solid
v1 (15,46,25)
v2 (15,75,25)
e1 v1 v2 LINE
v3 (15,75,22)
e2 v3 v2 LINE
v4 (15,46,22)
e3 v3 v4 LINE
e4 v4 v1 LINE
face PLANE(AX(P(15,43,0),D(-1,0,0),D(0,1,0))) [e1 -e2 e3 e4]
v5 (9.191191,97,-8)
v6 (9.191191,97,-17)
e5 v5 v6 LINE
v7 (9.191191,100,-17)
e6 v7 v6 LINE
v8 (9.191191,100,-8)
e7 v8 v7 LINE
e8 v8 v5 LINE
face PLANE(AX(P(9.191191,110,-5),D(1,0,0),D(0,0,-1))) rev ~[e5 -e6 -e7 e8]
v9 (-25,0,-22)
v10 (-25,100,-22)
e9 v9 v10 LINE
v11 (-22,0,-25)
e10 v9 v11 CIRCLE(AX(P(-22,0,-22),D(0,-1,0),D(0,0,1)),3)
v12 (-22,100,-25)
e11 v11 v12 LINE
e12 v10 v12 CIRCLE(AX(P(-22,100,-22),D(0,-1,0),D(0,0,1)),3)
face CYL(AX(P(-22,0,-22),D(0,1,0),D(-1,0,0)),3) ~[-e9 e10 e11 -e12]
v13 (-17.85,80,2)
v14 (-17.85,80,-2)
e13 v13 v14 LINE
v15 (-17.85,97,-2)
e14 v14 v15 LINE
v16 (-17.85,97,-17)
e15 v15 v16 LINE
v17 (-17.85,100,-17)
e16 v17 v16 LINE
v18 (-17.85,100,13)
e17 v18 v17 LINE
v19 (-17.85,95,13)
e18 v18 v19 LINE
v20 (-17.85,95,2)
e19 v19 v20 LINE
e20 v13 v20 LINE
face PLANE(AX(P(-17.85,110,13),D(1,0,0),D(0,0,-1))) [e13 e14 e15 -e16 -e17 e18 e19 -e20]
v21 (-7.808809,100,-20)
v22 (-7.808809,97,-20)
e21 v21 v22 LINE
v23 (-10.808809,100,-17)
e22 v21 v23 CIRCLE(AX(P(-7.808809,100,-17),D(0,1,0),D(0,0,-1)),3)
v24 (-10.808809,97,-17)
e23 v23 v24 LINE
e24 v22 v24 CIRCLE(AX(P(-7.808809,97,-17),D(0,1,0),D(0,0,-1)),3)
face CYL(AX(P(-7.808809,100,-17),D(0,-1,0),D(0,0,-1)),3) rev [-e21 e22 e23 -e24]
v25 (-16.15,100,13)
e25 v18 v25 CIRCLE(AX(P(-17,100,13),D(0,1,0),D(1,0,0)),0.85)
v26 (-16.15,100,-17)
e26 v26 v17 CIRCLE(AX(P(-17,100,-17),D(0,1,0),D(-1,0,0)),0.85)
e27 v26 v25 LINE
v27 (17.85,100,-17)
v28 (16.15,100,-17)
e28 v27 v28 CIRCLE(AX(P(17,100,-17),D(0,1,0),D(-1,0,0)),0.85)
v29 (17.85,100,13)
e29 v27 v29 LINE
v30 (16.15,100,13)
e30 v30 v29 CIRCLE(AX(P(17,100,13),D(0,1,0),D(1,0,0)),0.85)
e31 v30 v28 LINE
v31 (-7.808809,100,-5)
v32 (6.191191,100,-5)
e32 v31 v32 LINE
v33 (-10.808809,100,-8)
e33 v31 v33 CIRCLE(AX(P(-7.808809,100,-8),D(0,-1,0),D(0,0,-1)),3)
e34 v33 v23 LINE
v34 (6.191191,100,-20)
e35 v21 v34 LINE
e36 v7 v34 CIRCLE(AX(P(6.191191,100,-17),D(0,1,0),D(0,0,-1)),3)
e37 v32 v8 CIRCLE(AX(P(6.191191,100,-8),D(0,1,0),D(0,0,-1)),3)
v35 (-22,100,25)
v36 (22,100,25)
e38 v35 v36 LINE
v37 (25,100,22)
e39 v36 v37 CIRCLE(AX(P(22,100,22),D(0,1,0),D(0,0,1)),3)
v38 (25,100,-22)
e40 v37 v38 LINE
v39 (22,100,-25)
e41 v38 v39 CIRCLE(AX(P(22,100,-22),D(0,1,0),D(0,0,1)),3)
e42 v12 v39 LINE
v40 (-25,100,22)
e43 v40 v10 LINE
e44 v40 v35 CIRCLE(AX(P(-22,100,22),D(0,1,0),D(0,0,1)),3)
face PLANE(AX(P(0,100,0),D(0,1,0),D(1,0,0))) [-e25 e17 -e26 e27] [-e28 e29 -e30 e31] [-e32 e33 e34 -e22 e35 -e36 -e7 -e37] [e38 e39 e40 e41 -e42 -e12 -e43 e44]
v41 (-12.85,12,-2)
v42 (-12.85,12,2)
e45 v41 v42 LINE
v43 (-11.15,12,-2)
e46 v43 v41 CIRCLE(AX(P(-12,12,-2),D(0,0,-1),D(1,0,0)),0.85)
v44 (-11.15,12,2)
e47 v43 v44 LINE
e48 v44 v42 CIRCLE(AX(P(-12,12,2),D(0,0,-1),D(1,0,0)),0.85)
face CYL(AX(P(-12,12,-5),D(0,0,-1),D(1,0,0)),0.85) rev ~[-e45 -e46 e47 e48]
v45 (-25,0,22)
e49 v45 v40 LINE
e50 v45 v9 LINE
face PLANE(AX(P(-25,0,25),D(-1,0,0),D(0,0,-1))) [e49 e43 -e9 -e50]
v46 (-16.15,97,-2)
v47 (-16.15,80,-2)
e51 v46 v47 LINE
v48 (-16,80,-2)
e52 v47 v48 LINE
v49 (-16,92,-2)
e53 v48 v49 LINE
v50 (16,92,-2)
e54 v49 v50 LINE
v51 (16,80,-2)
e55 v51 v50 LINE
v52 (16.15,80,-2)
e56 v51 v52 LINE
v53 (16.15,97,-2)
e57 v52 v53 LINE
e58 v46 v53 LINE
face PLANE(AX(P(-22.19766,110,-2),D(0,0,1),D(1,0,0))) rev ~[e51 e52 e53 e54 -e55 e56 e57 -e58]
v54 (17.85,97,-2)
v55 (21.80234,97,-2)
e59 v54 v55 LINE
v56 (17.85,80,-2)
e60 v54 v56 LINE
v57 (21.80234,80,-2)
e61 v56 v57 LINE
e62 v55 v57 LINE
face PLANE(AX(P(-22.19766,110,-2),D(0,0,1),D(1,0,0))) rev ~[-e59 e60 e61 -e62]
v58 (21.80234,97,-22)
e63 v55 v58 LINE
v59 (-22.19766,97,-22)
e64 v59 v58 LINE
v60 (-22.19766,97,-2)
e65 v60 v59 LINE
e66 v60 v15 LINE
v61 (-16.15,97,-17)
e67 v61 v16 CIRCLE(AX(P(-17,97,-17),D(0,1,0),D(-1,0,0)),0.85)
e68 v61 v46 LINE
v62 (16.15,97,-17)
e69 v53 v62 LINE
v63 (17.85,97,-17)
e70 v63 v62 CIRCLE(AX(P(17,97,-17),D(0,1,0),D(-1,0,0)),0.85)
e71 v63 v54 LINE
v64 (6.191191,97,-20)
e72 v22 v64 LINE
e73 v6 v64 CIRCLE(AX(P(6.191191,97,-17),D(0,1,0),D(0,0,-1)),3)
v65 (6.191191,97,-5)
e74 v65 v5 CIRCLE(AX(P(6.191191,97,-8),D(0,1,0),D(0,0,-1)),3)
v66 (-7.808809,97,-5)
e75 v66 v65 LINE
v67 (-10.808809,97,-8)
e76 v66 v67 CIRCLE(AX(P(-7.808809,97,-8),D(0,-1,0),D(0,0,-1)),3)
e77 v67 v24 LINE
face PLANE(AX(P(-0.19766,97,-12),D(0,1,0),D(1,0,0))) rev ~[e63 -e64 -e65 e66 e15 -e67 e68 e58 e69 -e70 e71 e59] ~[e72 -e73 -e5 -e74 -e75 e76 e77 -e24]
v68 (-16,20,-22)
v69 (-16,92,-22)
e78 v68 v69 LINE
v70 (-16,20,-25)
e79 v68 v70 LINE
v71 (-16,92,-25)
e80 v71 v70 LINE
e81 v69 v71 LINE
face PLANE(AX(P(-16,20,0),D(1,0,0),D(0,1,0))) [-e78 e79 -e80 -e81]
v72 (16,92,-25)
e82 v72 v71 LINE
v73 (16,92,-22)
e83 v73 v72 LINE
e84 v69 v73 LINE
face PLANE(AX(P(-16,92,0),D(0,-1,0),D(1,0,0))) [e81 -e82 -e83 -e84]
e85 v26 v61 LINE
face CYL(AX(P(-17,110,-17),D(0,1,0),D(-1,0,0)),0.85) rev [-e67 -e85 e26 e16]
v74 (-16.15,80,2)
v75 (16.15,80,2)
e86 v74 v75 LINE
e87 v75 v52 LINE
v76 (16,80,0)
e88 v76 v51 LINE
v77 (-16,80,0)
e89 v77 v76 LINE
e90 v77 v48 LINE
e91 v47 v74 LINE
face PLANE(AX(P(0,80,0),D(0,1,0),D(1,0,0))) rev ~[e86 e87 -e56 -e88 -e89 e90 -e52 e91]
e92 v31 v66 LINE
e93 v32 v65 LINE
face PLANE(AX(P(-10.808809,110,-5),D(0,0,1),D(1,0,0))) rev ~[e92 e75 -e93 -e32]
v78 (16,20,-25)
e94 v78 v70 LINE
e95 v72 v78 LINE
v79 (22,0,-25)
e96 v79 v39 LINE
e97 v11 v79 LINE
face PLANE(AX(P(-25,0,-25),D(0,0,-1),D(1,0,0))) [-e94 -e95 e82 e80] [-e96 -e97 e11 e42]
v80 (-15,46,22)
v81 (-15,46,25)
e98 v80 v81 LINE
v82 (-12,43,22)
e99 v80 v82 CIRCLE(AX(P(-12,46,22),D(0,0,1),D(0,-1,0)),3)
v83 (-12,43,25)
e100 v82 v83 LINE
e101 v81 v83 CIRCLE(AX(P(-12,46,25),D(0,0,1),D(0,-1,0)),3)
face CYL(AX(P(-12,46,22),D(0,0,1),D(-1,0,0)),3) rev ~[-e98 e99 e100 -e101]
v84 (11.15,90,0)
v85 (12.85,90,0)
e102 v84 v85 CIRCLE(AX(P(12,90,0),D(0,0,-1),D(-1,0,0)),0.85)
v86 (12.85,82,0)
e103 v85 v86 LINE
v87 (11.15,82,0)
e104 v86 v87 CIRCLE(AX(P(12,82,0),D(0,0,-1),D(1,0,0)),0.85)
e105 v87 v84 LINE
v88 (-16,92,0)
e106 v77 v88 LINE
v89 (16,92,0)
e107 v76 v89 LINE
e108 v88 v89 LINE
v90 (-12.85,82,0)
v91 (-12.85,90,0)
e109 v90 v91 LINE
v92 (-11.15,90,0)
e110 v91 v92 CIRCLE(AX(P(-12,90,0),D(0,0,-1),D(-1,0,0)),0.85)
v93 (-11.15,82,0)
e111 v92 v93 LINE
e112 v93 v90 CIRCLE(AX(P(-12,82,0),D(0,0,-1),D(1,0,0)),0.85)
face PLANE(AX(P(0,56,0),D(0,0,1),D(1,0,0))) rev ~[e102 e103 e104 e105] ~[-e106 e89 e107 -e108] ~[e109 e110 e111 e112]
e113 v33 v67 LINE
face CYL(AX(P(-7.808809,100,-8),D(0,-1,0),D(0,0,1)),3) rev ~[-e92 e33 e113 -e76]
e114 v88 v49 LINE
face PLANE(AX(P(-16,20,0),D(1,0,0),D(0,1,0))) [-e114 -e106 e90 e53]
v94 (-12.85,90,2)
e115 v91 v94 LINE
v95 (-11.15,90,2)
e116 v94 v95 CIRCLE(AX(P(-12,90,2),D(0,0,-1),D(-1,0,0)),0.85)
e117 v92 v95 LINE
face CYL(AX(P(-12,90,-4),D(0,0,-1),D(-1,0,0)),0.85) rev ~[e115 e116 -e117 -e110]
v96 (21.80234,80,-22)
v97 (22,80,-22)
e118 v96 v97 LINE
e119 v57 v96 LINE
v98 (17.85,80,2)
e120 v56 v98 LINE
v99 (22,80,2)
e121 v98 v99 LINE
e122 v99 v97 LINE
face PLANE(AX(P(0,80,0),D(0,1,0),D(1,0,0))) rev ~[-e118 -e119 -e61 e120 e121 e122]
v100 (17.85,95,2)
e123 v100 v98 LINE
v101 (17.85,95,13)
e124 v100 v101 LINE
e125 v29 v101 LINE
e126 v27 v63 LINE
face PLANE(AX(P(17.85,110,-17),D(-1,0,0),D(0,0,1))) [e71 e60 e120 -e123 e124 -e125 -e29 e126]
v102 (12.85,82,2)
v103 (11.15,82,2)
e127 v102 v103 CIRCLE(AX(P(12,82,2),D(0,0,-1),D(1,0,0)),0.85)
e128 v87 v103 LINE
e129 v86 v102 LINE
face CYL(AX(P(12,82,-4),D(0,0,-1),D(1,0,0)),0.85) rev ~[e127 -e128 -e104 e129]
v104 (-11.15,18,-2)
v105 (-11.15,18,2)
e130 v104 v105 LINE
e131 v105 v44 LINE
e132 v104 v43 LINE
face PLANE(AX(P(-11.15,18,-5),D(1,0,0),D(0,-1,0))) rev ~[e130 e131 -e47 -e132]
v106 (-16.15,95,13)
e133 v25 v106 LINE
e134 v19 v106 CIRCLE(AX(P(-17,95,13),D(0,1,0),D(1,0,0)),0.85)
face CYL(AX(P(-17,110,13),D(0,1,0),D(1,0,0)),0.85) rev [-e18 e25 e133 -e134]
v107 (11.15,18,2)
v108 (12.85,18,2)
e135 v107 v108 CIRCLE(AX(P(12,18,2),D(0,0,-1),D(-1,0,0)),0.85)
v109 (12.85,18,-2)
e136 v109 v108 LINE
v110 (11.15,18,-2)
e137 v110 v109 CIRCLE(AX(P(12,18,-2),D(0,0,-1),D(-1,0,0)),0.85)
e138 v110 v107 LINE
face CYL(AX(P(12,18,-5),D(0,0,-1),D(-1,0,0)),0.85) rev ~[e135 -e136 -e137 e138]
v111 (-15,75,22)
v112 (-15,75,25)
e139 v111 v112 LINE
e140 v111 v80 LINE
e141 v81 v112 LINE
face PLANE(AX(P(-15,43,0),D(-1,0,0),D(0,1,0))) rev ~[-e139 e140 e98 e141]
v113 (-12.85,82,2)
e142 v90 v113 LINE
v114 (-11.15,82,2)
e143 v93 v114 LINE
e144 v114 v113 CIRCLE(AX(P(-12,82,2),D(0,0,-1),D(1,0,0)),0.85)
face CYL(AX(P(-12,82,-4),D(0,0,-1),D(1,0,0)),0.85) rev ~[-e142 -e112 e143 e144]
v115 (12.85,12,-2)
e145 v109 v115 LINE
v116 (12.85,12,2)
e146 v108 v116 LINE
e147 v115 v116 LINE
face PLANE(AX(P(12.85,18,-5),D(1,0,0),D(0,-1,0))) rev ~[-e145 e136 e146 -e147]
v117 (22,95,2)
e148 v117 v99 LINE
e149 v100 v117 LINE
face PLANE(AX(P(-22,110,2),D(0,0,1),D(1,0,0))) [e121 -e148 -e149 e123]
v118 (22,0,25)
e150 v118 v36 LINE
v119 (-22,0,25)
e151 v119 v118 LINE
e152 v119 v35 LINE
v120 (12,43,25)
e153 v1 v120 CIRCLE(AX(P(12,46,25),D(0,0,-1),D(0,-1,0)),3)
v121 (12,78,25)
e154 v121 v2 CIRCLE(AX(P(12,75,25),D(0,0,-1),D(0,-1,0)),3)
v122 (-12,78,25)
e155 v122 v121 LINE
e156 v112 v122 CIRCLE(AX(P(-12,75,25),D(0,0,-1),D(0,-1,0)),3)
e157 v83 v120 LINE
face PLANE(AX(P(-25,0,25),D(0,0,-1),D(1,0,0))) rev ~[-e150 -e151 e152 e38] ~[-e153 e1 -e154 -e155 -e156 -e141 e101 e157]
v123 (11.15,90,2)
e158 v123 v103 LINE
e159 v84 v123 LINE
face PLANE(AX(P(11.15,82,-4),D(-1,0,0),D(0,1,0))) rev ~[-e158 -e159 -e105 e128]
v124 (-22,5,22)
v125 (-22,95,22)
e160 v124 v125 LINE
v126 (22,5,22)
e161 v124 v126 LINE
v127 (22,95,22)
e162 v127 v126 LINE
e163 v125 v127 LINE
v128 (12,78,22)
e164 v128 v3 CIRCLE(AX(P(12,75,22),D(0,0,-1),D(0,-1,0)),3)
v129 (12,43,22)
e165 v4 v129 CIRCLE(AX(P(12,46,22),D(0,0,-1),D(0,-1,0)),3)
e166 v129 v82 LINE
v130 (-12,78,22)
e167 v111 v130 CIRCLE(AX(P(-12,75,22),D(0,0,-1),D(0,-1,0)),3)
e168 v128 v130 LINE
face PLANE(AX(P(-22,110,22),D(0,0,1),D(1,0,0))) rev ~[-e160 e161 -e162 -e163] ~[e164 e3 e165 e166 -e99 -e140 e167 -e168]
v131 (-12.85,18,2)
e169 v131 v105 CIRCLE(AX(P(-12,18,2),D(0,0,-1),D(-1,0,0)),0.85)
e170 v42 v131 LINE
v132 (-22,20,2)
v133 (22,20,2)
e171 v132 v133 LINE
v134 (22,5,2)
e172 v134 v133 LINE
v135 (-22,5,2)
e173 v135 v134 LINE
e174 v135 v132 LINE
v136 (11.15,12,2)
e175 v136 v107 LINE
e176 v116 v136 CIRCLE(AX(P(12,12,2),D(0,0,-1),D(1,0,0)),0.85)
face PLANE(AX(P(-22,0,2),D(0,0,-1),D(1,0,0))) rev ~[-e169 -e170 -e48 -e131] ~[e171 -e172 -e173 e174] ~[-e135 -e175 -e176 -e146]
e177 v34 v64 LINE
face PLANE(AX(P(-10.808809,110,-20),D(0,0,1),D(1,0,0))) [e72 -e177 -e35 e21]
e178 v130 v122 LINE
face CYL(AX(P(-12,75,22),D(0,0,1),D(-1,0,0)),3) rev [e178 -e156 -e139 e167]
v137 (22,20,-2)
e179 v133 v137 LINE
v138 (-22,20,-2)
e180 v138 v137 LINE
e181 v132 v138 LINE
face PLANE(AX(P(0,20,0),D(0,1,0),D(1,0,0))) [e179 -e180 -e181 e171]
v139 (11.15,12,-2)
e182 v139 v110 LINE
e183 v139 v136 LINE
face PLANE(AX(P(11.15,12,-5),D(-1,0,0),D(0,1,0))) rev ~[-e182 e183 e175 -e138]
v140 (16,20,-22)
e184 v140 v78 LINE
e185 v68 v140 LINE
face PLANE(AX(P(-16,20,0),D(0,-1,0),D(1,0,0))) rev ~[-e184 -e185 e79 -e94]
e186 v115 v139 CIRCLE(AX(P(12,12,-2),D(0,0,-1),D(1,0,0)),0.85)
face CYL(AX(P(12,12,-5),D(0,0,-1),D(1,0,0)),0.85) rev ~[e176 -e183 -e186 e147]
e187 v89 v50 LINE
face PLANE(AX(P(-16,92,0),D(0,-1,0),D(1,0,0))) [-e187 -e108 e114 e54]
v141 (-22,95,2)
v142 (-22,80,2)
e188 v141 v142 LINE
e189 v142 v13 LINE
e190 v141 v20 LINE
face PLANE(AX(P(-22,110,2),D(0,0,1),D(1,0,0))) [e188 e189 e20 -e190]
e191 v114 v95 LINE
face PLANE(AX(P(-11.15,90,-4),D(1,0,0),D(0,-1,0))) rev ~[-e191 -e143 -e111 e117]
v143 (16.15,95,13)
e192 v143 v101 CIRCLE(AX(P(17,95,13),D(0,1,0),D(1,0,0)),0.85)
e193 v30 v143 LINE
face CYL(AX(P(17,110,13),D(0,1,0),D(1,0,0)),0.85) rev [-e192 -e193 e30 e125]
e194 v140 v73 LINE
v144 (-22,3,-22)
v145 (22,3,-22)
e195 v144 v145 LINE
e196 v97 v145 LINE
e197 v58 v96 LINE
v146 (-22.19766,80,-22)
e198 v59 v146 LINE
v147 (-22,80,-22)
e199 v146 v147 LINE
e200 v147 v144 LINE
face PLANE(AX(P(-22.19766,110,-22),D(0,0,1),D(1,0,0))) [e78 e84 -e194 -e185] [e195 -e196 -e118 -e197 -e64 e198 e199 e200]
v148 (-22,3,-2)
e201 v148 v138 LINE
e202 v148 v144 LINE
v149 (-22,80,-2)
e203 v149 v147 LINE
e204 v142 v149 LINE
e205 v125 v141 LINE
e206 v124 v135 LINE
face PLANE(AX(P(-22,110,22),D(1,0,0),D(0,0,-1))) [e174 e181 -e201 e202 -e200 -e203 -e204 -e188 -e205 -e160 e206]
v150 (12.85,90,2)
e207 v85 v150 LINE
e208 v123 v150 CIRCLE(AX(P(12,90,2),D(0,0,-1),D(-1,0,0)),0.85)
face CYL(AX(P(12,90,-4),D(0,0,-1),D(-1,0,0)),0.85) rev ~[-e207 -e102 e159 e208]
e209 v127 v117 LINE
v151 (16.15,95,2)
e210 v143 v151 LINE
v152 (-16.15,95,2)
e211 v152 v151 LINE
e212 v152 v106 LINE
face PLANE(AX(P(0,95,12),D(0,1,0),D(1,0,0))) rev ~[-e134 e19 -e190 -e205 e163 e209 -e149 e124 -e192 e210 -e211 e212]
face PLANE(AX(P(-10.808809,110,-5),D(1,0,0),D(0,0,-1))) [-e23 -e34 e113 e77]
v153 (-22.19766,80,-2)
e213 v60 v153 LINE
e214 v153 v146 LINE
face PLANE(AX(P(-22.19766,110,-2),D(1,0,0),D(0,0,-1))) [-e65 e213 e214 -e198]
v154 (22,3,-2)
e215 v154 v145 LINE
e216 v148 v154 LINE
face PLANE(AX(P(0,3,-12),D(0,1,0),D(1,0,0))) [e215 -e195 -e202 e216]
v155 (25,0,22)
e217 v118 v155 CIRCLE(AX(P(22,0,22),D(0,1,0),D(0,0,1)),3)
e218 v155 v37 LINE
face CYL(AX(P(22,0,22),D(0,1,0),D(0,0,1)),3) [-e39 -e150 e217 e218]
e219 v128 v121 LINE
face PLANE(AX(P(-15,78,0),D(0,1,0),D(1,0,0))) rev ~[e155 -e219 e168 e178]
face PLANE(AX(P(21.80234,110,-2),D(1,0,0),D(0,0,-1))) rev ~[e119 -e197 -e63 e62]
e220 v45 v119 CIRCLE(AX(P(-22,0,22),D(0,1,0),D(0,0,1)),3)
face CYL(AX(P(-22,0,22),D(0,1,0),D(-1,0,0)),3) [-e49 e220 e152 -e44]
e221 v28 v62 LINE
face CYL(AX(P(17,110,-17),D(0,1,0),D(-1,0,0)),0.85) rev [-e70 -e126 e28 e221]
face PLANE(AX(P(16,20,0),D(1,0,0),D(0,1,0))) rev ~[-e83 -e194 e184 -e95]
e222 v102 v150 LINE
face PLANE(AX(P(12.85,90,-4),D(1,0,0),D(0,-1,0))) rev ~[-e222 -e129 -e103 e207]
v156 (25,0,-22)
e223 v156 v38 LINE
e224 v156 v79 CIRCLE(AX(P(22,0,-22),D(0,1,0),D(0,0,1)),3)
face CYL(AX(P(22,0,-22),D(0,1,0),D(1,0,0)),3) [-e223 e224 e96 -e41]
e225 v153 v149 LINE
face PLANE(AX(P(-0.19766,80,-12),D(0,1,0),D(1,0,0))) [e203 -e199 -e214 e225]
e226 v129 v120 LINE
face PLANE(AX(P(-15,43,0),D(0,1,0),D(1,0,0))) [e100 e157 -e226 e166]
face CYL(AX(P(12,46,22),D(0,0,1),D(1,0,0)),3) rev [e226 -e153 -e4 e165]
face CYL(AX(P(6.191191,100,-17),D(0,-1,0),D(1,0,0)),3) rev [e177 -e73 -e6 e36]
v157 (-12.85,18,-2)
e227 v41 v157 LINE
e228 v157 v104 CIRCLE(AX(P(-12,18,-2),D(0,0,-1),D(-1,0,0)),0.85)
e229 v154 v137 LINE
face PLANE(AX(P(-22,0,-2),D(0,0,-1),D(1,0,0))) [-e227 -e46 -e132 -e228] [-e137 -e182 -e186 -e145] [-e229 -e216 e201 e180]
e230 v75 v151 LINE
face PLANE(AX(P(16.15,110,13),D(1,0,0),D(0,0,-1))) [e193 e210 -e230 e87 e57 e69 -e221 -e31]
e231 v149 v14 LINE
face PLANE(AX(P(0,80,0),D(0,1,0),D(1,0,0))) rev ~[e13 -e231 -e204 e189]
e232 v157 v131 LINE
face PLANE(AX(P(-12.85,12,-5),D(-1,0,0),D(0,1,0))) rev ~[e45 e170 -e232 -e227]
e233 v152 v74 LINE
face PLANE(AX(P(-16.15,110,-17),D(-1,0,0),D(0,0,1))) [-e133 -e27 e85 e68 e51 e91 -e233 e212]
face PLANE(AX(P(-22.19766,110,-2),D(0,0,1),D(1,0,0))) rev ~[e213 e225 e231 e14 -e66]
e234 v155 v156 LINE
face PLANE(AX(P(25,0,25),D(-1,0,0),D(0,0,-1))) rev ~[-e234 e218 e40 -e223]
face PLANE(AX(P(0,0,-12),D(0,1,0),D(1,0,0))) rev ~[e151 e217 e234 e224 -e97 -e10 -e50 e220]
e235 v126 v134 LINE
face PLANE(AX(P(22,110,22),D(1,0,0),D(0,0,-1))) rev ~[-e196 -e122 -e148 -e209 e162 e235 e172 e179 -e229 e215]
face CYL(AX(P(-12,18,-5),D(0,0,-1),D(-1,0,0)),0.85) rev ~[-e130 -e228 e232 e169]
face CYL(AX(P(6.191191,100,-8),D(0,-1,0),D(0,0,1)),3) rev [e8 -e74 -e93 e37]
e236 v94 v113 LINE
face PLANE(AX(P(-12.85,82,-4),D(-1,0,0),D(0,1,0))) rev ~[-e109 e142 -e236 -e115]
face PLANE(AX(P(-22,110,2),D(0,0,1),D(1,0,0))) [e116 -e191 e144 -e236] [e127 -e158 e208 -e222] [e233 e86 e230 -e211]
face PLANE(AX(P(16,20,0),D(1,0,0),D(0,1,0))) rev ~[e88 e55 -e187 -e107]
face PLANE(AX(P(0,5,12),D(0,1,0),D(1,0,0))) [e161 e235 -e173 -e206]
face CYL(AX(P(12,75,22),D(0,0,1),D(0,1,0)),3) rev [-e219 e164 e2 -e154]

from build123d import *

# Parameters (mm, degrees)
SKETCH_1_W                = 50
SKETCH_1_H                = 50
EXTRUDE_2_DEPTH           = 100
FILLET_4_R                = 3
SKETCH_3_W                = 44
SKETCH_3_H                = 44
CUT_EXTRUDE_4_DEPTH       = 80
SKETCH_3_4_W              = 44
SKETCH_3_4_H              = 44
EXTRUDE_4_DEPTH           = 20
SKETCH_7_W                = 44
SKETCH_7_H                = 20
CUT_EXTRUDE_5_DEPTH       = 20
SKETCH_7_2_W              = 44
SKETCH_7_2_H              = 20
EXTRUDE_5_DEPTH           = 5
SKETCH_9_W                = 44
SKETCH_9_H                = 20
CUT_EXTRUDE_6_DEPTH       = 20
SKETCH_9_2_W              = 44
SKETCH_9_2_H              = 20
EXTRUDE_6_DEPTH           = 3
CUT_EXTRUDE_7_DEPTH       = 5
CUT_EXTRUDE_7_DEPTH_BACK  = 5
SKETCH_15_W               = 44
SKETCH_15_H               = 20
CUT_EXTRUDE_9_DEPTH       = 41
SKETCH_15_2_W             = 44
SKETCH_15_2_H             = 20
EXTRUDE_7_DEPTH           = 15
SKETCH_15_3_W             = 44
SKETCH_15_3_H             = 20
CUT_EXTRUDE_10_DEPTH      = 10
SKETCH_16_W               = 44
SKETCH_16_H               = 20
CUT_EXTRUDE_11_DEPTH      = 30
SKETCH_16_2_W             = 44
SKETCH_16_2_H             = 20
EXTRUDE_8_DEPTH           = 13
SKETCH_16_3_W             = 44
SKETCH_16_3_H             = 20
CUT_EXTRUDE_12_DEPTH      = 10
CUT_EXTRUDE_17_DEPTH      = 40
CUT_EXTRUDE_18_DEPTH      = 5
CUT_EXTRUDE_18_DEPTH_BACK = 4
SKETCH_21_W               = 20
SKETCH_21_H               = 15
CUT_EXTRUDE_19_DEPTH      = 44
SKETCH_23_W               = 32
SKETCH_23_H               = 72
CUT_EXTRUDE_20_DEPTH      = 44
SKETCH_25_W               = 30
SKETCH_25_H               = 35
CUT_EXTRUDE_21_DEPTH      = 40
FILLET_5_R                = 3
FILLET_6_R                = 3


with BuildPart() as part:
    # 草图1 → 凸台-拉伸2 (new body)
    with BuildSketch(Plane(origin=(0, 0, 0), x_dir=(1, 0, 0), z_dir=(0, 1, 0))):
        Rectangle(SKETCH_1_W, SKETCH_1_H)
    extrude(amount=EXTRUDE_2_DEPTH)

    # 圆角4
    fillet_4_edges = [part.edges().sort_by_distance(p)[0] for p in [
        (-25, 50, 25),
        (-25, 50, -25),
        (25, 50, -25),
        (25, 50, 25),
    ]]
    fillet(fillet_4_edges, radius=FILLET_4_R)

    # 草图3 → 切除-拉伸4 (cut)
    with BuildSketch(Plane(origin=(0, 0, 0), x_dir=(1, 0, 0), z_dir=(0, 1, 0))):
        Rectangle(SKETCH_3_W, SKETCH_3_H)
    extrude(amount=CUT_EXTRUDE_4_DEPTH, mode=Mode.SUBTRACT)

    # 草图3<4> → 凸台-拉伸4 (add)
    with BuildSketch(Plane(origin=(0, 0, 0), x_dir=(1, 0, 0), z_dir=(0, 1, 0))):
        Rectangle(SKETCH_3_4_W, SKETCH_3_4_H)
    extrude(amount=EXTRUDE_4_DEPTH)

    # 草图7 → 切除-拉伸5 (cut)
    with BuildSketch(Plane(origin=(0, 0, 0), x_dir=(1, 0, 0), z_dir=(0, 1, 0))):
        with Locations((0, -12)):
            Rectangle(SKETCH_7_W, SKETCH_7_H)
    extrude(amount=CUT_EXTRUDE_5_DEPTH, mode=Mode.SUBTRACT)

    # 草图7<2> → 凸台-拉伸5 (add)
    with BuildSketch(Plane(origin=(0, 0, 0), x_dir=(1, 0, 0), z_dir=(0, 1, 0))):
        with Locations((0, -12)):
            Rectangle(SKETCH_7_2_W, SKETCH_7_2_H)
    extrude(amount=EXTRUDE_5_DEPTH)

    # 草图9 → 切除-拉伸6 (cut)
    with BuildSketch(Plane(origin=(0, 0, 0), x_dir=(1, 0, 0), z_dir=(0, 1, 0))):
        with Locations((0, 12)):
            Rectangle(SKETCH_9_W, SKETCH_9_H)
    extrude(amount=CUT_EXTRUDE_6_DEPTH, mode=Mode.SUBTRACT)

    # 草图9<2> → 凸台-拉伸6 (add)
    with BuildSketch(Plane(origin=(0, 0, 0), x_dir=(1, 0, 0), z_dir=(0, 1, 0))):
        with Locations((0, 12)):
            Rectangle(SKETCH_9_2_W, SKETCH_9_2_H)
    extrude(amount=EXTRUDE_6_DEPTH)

    # 草图10 → 切除-拉伸7 (cut, two sides: drawn at the far end of the back side and taken through both)
    with BuildSketch(Plane.XY.offset(-CUT_EXTRUDE_7_DEPTH_BACK)):
        with BuildLine():
            Line((-11.15, 18), (-11.15, 12))
            ThreePointArc((-11.15, 12), (-12, 11.15), (-12.85, 12))
            Line((-12.85, 12), (-12.85, 18))
            ThreePointArc((-12.85, 18), (-12, 18.85), (-11.15, 18))
        make_face()
        with BuildLine():
            Line((12.85, 18), (12.85, 12))
            ThreePointArc((12.85, 12), (12, 11.15), (11.15, 12))
            Line((11.15, 12), (11.15, 18))
            ThreePointArc((11.15, 18), (12, 18.85), (12.85, 18))
        make_face()
    extrude(amount=CUT_EXTRUDE_7_DEPTH + CUT_EXTRUDE_7_DEPTH_BACK, mode=Mode.SUBTRACT)

    # 草图15 → 切除-拉伸9 (cut)
    with BuildSketch(Plane(origin=(0, 110, 0), x_dir=(1, 0, 0), z_dir=(0, 1, 0))):
        with Locations((0, -12)):
            Rectangle(SKETCH_15_W, SKETCH_15_H)
    extrude(amount=-CUT_EXTRUDE_9_DEPTH, mode=Mode.SUBTRACT)

    # 草图15<2> → 凸台-拉伸7 (add)
    with BuildSketch(Plane(origin=(0, 110, 0), x_dir=(1, 0, 0), z_dir=(0, 1, 0))):
        with Locations((0, -12)):
            Rectangle(SKETCH_15_2_W, SKETCH_15_2_H)
    extrude(amount=-EXTRUDE_7_DEPTH)

    # 草图15<3> → 切除-拉伸10 (cut)
    with BuildSketch(Plane(origin=(0, 110, 0), x_dir=(1, 0, 0), z_dir=(0, 1, 0))):
        with Locations((0, -12)):
            Rectangle(SKETCH_15_3_W, SKETCH_15_3_H)
    extrude(amount=-CUT_EXTRUDE_10_DEPTH, mode=Mode.SUBTRACT)

    # 草图16 → 切除-拉伸11 (cut)
    with BuildSketch(Plane(origin=(0, 110, 0), x_dir=(1, 0, 0), z_dir=(0, 1, 0))):
        with Locations((-0.197660017, 12)):
            Rectangle(SKETCH_16_W, SKETCH_16_H)
    extrude(amount=-CUT_EXTRUDE_11_DEPTH, mode=Mode.SUBTRACT)

    # 草图16<2> → 凸台-拉伸8 (add)
    with BuildSketch(Plane(origin=(0, 110, 0), x_dir=(1, 0, 0), z_dir=(0, 1, 0))):
        with Locations((-0.197660017, 12)):
            Rectangle(SKETCH_16_2_W, SKETCH_16_2_H)
    extrude(amount=-EXTRUDE_8_DEPTH)

    # 草图16<3> → 切除-拉伸12 (cut)
    with BuildSketch(Plane(origin=(0, 110, 0), x_dir=(1, 0, 0), z_dir=(0, 1, 0))):
        with Locations((-0.197660017, 12)):
            Rectangle(SKETCH_16_3_W, SKETCH_16_3_H)
    extrude(amount=-CUT_EXTRUDE_12_DEPTH, mode=Mode.SUBTRACT)

    # 草图11 → 切除-拉伸17 (cut)
    with BuildSketch(Plane(origin=(0, 110, 0), x_dir=(1, 0, 0), z_dir=(0, 1, 0))):
        with BuildLine():
            Line((-16.15, 17), (-16.15, -13))
            ThreePointArc((-16.15, -13), (-17, -13.85), (-17.85, -13))
            Line((-17.85, -13), (-17.85, 17))
            ThreePointArc((-17.85, 17), (-17, 17.85), (-16.15, 17))
        make_face()
        with BuildLine():
            Line((17.85, 17), (17.85, -13))
            ThreePointArc((17.85, -13), (17, -13.85), (16.15, -13))
            Line((16.15, -13), (16.15, 17))
            ThreePointArc((16.15, 17), (17, 17.85), (17.85, 17))
        make_face()
    extrude(amount=-CUT_EXTRUDE_17_DEPTH, mode=Mode.SUBTRACT)

    # 草图20 → 切除-拉伸18 (cut, two sides: drawn at the far end of the back side and taken through both)
    with BuildSketch(Plane.XY.offset(-CUT_EXTRUDE_18_DEPTH_BACK)):
        with BuildLine():
            Line((-11.15, 90), (-11.15, 82))
            ThreePointArc((-11.15, 82), (-12, 81.15), (-12.85, 82))
            Line((-12.85, 82), (-12.85, 90))
            ThreePointArc((-12.85, 90), (-12, 90.85), (-11.15, 90))
        make_face()
        with BuildLine():
            Line((12.85, 90), (12.85, 82))
            ThreePointArc((12.85, 82), (12, 81.15), (11.15, 82))
            Line((11.15, 82), (11.15, 90))
            ThreePointArc((11.15, 90), (12, 90.85), (12.85, 90))
        make_face()
    extrude(amount=CUT_EXTRUDE_18_DEPTH + CUT_EXTRUDE_18_DEPTH_BACK, mode=Mode.SUBTRACT)

    # 草图21 → 切除-拉伸19 (cut)
    with BuildSketch(Plane(origin=(0, 110, 0), x_dir=(1, 0, 0), z_dir=(0, 1, 0))):
        with Locations((-0.808809207, 12.5)):
            Rectangle(SKETCH_21_W, SKETCH_21_H)
    extrude(amount=-CUT_EXTRUDE_19_DEPTH, mode=Mode.SUBTRACT)

    # 草图23 → 切除-拉伸20 (cut)
    with BuildSketch(Plane.XY):
        with Locations((0, 56)):
            Rectangle(SKETCH_23_W, SKETCH_23_H)
    extrude(amount=-CUT_EXTRUDE_20_DEPTH, mode=Mode.SUBTRACT)

    # 草图25 → 切除-拉伸21 (cut)
    with BuildSketch(Plane.XY):
        with Locations((0, 60.5)):
            Rectangle(SKETCH_25_W, SKETCH_25_H)
    extrude(amount=CUT_EXTRUDE_21_DEPTH, mode=Mode.SUBTRACT)

    # 圆角5
    fillet_5_edges = [part.edges().sort_by_distance(p)[0] for p in [
        (-15, 78, 23.5),
        (-15, 43, 23.5),
        (15, 43, 23.5),
        (15, 78, 23.5),
    ]]
    fillet(fillet_5_edges, radius=FILLET_5_R)

    # 圆角6
    fillet_6_edges = [part.edges().sort_by_distance(p)[0] for p in [
        (-10.808809207, 98.5, -5),
        (-10.808809207, 98.5, -20),
        (9.191190793, 98.5, -20),
        (9.191190793, 98.5, -5),
    ]]
    fillet(fillet_6_edges, radius=FILLET_6_R)


solid = part.part
